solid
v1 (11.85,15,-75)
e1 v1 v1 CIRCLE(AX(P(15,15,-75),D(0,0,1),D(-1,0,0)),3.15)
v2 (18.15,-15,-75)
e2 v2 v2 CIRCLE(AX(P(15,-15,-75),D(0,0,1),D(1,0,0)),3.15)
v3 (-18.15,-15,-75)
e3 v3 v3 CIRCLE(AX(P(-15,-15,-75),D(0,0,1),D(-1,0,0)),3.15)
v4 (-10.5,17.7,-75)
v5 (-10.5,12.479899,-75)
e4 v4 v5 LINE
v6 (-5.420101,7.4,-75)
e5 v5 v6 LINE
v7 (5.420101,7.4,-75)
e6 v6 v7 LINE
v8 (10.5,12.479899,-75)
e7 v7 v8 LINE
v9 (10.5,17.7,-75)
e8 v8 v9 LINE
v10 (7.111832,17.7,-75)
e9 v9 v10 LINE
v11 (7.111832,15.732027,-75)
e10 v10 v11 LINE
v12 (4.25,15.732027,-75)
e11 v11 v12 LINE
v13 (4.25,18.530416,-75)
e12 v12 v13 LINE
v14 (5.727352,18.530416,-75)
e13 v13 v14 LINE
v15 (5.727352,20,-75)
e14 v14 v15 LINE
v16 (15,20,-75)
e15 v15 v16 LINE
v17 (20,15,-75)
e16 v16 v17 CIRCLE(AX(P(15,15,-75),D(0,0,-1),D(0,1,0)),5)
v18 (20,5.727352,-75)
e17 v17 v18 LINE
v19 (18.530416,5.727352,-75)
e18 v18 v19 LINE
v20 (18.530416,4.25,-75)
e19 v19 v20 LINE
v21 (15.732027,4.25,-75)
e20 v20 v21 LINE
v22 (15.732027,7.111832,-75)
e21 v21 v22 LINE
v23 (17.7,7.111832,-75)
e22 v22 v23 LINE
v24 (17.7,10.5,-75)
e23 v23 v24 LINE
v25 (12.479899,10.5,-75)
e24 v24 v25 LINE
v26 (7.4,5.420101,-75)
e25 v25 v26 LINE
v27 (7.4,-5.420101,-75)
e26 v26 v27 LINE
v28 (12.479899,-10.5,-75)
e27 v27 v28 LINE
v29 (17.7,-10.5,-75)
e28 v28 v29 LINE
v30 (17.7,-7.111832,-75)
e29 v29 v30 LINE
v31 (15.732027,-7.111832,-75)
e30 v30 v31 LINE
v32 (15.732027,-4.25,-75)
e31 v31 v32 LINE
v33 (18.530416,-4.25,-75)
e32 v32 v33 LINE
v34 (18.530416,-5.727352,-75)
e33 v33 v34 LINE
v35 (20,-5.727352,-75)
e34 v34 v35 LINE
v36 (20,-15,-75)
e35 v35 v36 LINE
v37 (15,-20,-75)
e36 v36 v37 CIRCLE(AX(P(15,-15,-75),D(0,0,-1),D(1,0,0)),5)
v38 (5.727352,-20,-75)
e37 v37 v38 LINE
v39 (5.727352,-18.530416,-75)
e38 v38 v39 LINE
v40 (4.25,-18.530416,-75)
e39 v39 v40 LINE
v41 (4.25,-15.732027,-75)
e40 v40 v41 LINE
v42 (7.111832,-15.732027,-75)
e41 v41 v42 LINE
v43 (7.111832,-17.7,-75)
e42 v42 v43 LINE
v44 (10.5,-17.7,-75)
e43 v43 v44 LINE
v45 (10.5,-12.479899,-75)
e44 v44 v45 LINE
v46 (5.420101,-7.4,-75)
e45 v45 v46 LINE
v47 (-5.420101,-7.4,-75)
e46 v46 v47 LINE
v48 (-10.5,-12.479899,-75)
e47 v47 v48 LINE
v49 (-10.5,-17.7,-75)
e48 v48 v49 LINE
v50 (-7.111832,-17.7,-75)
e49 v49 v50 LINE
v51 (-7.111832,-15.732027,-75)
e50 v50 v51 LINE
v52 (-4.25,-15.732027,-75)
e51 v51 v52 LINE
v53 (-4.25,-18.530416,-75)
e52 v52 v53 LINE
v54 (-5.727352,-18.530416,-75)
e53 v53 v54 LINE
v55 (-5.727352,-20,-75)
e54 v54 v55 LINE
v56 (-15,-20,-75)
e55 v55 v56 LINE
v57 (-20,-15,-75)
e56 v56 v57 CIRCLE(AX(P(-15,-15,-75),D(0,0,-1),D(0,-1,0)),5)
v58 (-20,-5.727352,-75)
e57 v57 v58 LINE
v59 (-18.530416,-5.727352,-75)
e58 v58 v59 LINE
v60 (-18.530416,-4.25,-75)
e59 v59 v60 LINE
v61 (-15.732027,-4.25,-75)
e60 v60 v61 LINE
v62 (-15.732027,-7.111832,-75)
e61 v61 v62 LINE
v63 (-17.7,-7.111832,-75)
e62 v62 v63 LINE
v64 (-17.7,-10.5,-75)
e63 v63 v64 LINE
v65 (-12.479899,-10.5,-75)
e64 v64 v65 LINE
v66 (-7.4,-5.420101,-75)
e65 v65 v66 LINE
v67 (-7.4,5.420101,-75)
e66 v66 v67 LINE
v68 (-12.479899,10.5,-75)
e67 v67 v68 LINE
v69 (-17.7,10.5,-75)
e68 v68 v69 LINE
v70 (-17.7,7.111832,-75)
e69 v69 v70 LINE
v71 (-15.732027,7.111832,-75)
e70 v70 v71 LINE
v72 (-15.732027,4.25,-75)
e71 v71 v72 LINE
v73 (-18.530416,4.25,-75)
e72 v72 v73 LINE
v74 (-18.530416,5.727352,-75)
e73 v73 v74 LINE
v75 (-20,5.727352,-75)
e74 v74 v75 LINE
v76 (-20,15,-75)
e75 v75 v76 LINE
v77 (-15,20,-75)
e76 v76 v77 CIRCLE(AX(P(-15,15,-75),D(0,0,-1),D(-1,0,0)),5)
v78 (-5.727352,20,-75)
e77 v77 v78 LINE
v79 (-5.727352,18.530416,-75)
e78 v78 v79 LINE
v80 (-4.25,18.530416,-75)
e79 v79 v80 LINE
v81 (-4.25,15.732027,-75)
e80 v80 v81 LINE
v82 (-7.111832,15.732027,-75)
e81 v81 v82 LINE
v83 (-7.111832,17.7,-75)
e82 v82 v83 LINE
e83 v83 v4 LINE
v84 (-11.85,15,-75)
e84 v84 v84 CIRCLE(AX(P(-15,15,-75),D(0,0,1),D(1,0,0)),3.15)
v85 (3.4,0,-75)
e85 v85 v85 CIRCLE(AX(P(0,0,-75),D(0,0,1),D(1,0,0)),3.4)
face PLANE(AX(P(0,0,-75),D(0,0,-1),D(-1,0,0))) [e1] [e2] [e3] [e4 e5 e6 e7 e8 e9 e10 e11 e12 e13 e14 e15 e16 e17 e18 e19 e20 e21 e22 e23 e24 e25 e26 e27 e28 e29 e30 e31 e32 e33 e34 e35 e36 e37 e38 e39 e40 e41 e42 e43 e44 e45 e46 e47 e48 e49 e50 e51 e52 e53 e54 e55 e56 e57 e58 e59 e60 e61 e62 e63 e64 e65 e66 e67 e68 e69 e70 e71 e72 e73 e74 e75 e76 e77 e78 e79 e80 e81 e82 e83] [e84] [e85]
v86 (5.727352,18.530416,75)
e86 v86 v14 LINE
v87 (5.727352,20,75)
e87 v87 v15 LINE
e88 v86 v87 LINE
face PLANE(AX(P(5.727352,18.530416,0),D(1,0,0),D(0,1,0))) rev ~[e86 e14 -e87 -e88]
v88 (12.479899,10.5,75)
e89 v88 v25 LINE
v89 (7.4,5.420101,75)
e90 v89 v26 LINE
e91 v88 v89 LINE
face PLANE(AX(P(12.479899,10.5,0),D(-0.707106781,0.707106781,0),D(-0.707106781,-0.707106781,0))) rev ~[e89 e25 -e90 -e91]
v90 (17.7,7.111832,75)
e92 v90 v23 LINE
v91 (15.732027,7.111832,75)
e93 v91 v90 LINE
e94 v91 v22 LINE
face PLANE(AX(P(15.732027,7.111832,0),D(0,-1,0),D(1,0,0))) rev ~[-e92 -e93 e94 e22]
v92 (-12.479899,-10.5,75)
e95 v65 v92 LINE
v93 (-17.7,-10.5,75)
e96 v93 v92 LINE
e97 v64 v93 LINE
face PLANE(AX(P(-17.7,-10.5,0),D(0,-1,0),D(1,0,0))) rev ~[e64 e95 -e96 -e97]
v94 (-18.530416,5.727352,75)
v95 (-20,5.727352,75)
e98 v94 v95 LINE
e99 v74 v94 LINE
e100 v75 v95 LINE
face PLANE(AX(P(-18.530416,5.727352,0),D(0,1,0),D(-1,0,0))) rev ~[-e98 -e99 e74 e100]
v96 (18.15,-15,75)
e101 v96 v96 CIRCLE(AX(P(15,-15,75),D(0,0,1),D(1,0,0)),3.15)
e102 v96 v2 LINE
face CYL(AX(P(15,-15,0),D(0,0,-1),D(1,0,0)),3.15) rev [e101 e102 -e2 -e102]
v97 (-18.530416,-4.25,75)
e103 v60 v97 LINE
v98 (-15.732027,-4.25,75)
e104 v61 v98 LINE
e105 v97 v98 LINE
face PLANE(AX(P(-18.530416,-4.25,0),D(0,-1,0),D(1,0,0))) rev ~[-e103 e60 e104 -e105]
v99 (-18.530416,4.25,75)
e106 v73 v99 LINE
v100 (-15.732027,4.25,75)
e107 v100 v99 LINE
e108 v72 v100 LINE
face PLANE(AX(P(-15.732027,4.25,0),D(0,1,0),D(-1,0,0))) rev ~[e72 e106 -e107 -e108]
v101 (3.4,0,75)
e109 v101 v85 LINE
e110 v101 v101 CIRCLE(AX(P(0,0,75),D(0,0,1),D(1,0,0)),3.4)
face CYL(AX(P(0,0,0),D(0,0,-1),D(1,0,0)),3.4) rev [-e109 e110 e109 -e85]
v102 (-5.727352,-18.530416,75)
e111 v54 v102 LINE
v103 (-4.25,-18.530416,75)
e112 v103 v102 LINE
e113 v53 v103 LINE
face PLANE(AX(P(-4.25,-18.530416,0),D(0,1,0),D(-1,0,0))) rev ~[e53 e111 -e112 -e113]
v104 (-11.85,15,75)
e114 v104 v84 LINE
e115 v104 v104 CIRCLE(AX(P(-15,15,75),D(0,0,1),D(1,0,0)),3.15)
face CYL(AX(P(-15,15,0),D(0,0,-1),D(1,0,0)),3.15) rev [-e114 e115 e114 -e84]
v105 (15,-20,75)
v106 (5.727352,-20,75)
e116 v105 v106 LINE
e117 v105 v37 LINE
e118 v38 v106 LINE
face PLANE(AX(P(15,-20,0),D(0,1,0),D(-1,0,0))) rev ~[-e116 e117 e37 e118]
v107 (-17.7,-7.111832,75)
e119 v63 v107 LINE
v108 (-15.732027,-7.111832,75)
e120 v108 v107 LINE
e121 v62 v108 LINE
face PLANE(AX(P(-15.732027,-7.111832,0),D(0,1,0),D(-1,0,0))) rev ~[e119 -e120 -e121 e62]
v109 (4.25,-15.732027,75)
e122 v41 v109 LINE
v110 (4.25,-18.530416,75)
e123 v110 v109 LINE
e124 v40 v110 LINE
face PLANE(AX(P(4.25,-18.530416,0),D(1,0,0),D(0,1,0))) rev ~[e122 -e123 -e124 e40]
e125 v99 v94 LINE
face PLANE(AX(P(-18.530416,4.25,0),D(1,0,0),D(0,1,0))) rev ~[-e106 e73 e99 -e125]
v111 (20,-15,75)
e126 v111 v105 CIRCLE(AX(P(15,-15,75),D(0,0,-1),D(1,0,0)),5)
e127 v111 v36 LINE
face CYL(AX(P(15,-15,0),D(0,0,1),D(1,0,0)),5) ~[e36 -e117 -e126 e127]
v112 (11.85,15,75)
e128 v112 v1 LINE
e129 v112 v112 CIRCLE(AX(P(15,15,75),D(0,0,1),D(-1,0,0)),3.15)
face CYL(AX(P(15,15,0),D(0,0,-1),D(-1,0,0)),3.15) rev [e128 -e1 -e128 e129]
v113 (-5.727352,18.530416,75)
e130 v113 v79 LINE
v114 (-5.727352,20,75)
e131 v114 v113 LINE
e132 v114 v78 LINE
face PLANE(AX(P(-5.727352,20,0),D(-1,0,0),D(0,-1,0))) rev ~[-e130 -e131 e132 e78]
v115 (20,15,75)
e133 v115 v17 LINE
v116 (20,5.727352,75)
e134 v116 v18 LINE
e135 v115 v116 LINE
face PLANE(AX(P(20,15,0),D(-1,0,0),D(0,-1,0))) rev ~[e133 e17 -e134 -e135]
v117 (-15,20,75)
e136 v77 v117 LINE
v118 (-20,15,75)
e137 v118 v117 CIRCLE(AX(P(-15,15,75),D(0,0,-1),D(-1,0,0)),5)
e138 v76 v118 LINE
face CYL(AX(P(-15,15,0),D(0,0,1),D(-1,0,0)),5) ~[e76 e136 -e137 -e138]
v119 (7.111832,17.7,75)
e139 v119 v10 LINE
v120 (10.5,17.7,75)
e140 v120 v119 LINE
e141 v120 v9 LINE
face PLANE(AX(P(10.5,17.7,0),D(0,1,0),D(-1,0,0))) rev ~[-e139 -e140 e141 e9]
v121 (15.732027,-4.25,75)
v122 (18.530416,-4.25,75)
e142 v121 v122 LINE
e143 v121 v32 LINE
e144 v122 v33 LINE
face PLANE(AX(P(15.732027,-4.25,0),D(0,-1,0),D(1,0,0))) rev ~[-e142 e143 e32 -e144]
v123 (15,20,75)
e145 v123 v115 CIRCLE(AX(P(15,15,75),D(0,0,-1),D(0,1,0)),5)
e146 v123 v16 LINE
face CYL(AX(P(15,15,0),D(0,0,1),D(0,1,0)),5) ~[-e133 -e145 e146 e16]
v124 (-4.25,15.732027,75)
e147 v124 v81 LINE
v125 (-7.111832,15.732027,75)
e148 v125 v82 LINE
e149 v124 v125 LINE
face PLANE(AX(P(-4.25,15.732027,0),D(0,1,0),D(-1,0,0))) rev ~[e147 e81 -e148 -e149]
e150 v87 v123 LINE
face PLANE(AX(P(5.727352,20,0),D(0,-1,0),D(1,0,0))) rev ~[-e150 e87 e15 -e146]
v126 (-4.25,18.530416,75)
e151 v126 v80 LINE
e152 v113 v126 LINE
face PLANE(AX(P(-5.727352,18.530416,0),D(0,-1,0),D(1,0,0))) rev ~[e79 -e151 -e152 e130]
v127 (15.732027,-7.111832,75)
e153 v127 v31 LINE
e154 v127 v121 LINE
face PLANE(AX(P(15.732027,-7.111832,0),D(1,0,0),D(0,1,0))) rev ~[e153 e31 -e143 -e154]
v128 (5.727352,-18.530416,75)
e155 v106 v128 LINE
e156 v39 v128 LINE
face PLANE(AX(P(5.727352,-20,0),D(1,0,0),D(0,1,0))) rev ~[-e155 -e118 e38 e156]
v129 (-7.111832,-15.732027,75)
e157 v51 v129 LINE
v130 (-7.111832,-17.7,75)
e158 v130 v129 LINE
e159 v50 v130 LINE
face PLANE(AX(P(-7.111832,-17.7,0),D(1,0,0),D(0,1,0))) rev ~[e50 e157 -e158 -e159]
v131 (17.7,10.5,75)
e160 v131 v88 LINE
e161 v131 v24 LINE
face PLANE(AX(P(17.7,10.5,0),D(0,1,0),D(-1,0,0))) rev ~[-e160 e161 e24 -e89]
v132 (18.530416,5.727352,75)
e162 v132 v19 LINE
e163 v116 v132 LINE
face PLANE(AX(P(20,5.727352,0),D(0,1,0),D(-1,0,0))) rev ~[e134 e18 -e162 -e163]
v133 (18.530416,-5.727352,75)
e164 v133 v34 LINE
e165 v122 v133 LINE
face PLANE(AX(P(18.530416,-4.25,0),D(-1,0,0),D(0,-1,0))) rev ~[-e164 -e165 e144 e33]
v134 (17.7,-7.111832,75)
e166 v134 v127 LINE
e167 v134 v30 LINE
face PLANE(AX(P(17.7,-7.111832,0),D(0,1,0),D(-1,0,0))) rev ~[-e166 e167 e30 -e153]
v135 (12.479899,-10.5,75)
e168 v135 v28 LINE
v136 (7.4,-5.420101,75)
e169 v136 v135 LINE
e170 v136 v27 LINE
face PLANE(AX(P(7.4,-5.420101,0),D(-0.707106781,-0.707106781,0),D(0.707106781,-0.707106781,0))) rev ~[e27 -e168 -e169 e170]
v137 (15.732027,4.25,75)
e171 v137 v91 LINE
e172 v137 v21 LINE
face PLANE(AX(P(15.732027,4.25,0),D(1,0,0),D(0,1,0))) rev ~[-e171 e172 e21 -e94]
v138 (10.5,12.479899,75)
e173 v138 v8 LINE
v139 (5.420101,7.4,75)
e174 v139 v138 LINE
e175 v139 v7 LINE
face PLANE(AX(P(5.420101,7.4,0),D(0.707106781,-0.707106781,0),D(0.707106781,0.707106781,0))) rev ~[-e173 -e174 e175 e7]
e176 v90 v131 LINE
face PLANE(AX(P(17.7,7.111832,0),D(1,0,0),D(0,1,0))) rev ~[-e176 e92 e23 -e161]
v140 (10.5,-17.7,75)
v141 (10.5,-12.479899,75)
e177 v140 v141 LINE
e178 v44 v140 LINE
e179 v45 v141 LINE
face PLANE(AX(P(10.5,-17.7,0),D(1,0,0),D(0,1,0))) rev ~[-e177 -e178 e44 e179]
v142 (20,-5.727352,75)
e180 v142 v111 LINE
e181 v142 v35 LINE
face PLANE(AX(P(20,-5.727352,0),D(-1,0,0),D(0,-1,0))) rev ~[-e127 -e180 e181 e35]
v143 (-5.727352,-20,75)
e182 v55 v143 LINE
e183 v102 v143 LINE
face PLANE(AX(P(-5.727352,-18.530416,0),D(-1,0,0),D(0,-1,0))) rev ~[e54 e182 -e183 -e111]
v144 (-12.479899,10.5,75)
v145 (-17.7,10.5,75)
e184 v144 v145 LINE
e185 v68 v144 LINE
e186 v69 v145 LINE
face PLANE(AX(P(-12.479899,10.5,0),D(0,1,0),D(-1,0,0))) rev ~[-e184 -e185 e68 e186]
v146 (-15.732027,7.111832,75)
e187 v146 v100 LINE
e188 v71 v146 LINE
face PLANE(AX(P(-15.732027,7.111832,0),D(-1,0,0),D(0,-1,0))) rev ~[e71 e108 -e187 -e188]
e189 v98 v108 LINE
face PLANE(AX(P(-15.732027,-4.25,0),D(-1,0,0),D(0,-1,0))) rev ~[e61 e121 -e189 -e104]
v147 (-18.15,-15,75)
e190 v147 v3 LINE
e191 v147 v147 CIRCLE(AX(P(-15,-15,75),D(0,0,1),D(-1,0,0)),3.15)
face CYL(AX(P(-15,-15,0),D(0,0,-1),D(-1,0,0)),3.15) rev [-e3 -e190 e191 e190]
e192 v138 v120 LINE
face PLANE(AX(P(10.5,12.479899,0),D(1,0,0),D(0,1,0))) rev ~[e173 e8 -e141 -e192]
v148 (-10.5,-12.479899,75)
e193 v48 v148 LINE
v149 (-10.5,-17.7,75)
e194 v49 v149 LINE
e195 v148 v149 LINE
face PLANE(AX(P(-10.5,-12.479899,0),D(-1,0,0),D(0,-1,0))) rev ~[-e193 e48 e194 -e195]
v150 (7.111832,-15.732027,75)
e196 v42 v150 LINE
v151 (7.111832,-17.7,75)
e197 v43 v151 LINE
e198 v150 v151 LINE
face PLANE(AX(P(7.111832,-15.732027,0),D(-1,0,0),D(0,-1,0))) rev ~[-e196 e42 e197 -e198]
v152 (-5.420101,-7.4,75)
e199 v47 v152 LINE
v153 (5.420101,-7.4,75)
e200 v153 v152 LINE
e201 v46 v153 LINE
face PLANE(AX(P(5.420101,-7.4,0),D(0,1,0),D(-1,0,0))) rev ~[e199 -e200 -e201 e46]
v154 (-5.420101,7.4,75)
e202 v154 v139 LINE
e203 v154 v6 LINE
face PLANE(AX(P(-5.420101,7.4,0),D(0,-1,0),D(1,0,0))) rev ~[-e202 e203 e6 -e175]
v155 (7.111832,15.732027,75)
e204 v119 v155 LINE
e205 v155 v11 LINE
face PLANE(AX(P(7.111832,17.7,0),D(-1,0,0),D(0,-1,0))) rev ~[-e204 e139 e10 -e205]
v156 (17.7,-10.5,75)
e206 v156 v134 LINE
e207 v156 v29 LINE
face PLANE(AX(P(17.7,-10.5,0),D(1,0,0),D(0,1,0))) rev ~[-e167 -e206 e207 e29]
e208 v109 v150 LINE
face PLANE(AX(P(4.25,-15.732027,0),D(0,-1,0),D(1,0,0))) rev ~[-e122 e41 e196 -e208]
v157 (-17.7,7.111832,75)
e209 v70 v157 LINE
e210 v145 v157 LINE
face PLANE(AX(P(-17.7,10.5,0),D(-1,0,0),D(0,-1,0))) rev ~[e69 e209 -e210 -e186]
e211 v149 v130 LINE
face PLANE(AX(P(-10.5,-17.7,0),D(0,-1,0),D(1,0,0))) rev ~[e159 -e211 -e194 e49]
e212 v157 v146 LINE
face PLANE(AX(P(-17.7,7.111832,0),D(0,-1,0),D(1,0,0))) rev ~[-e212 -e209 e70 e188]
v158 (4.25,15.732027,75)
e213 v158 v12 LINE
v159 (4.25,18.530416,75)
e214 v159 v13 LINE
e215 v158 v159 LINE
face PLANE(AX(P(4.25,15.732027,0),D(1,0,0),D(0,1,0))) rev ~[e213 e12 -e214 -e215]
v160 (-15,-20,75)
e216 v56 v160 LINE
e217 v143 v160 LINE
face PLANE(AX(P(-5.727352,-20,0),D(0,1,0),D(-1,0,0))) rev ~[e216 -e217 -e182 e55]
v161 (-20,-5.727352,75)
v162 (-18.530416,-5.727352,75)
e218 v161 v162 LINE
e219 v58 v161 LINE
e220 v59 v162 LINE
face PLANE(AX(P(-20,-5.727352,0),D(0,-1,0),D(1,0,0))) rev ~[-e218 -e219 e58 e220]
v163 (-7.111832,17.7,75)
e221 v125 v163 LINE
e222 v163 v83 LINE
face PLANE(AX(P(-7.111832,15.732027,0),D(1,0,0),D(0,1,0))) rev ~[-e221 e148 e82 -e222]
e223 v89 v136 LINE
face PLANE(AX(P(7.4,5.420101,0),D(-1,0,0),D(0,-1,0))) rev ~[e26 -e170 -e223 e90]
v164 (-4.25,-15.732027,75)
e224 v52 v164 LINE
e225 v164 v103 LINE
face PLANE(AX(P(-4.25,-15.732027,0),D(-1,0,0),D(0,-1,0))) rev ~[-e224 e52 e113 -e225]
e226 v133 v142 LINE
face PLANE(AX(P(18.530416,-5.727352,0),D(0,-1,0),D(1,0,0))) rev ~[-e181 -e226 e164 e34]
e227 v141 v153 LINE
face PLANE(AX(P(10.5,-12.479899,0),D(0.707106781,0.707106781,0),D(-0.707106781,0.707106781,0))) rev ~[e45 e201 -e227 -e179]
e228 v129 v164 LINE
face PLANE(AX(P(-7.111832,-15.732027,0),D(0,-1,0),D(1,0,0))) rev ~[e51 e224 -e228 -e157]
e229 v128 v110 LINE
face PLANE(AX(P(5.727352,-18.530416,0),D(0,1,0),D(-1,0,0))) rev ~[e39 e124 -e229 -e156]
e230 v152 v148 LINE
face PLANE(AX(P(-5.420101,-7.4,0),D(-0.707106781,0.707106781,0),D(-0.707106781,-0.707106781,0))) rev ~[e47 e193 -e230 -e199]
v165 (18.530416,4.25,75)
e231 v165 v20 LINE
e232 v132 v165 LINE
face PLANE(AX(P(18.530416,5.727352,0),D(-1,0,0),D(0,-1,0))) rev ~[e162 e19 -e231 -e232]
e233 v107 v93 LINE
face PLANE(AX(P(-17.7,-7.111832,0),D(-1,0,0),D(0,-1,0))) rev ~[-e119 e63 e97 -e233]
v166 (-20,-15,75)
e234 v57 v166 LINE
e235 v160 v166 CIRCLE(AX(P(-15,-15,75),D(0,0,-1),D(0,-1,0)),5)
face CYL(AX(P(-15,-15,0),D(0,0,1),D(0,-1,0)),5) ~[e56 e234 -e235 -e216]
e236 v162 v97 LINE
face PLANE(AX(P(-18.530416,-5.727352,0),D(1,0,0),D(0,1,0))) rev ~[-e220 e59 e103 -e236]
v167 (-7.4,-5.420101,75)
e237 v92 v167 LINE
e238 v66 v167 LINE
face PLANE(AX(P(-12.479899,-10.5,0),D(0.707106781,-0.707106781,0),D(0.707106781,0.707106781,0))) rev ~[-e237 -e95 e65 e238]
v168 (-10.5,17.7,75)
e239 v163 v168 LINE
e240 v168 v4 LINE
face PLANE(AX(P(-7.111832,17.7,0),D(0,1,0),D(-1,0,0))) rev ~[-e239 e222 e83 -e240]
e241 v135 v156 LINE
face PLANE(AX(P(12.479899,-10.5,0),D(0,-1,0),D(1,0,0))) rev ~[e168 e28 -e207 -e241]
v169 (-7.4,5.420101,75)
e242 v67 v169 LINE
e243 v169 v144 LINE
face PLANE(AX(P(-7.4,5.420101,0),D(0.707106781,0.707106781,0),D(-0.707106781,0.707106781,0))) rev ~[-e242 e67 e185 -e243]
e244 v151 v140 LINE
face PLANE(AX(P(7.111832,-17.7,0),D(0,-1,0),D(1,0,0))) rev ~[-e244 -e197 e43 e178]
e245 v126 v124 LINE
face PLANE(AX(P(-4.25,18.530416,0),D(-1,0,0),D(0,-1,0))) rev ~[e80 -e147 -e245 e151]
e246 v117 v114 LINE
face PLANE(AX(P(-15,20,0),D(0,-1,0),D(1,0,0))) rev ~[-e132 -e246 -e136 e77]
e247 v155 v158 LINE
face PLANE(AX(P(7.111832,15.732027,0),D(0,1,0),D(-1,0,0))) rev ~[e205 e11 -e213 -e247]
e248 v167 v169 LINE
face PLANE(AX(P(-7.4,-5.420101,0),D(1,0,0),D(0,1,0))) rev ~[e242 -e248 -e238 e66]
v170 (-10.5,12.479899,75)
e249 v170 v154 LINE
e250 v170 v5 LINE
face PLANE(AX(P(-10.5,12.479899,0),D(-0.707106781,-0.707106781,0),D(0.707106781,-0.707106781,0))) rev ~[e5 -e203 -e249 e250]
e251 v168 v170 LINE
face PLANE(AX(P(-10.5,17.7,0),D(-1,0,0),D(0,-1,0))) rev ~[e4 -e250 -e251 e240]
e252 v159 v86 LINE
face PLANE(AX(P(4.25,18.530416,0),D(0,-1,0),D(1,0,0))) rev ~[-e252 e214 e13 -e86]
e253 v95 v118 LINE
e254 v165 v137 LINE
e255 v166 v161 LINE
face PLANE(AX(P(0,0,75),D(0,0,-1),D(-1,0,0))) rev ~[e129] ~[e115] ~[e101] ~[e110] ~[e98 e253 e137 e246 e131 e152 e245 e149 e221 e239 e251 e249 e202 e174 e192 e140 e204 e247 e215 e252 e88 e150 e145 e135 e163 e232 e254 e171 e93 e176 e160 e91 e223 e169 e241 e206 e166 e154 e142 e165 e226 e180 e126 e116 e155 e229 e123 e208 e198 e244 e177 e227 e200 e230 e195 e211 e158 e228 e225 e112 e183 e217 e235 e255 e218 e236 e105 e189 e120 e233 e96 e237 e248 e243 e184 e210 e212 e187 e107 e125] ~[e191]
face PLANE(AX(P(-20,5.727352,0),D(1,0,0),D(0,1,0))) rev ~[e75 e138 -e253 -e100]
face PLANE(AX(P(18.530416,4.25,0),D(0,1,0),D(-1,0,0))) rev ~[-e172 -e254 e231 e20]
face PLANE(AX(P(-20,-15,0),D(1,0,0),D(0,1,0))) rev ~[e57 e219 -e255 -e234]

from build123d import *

# Parameters (mm, degrees)
SKETCH_1_R      = 3.4
SKETCH_1_R_2    = 3.15
EXTRUDE_1_DEPTH = 75


with BuildPart() as part:
    # Эскиз1 → Бобышка-Вытянуть1 (new, symmetric)
    with BuildSketch(Plane.XY):
        with BuildLine():
            Line((-15, 20), (-5.727351849, 20))
            Line((-5.727351849, 20), (-5.727351849, 18.530416438))
            Line((-5.727351849, 18.530416438), (-4.25, 18.530416438))
            Line((-4.25, 18.530416438), (-4.25, 15.732027397))
            Line((-4.25, 15.732027397), (-7.111831817, 15.732027397))
            Line((-7.111831817, 15.732027397), (-7.111831817, 17.7))
            Line((-7.111831817, 17.7), (-10.5, 17.7))
            Line((-10.5, 17.7), (-10.5, 12.479898987))
            Line((-10.5, 12.479898987), (-5.420101013, 7.4))
            Line((-5.420101013, 7.4), (5.420101013, 7.4))
            Line((5.420101013, 7.4), (10.5, 12.479898987))
            Line((10.5, 12.479898987), (10.5, 17.7))
            Line((10.5, 17.7), (7.111831817, 17.7))
            Line((7.111831817, 17.7), (7.111831817, 15.732027397))
            Line((7.111831817, 15.732027397), (4.25, 15.732027397))
            Line((4.25, 15.732027397), (4.25, 18.530416438))
            Line((4.25, 18.530416438), (5.727351849, 18.530416438))
            Line((5.727351849, 18.530416438), (5.727351849, 20))
            Line((5.727351849, 20), (15, 20))
            ThreePointArc((15, 20), (18.535533906, 18.535533906), (20, 15))
            Line((20, 15), (20, 5.727351849))
            Line((20, 5.727351849), (18.530416438, 5.727351849))
            Line((18.530416438, 5.727351849), (18.530416438, 4.25))
            Line((18.530416438, 4.25), (15.732027397, 4.25))
            Line((15.732027397, 4.25), (15.732027397, 7.111831817))
            Line((15.732027397, 7.111831817), (17.7, 7.111831817))
            Line((17.7, 7.111831817), (17.7, 10.5))
            Line((17.7, 10.5), (12.479898987, 10.5))
            Line((12.479898987, 10.5), (7.4, 5.420101013))
            Line((7.4, 5.420101013), (7.4, -5.420101013))
            Line((7.4, -5.420101013), (12.479898987, -10.5))
            Line((12.479898987, -10.5), (17.7, -10.5))
            Line((17.7, -10.5), (17.7, -7.111831817))
            Line((17.7, -7.111831817), (15.732027397, -7.111831817))
            Line((15.732027397, -7.111831817), (15.732027397, -4.25))
            Line((15.732027397, -4.25), (18.530416438, -4.25))
            Line((18.530416438, -4.25), (18.530416438, -5.727351849))
            Line((18.530416438, -5.727351849), (20, -5.727351849))
            Line((20, -5.727351849), (20, -15))
            ThreePointArc((20, -15), (18.535533906, -18.535533906), (15, -20))
            Line((15, -20), (5.727351849, -20))
            Line((5.727351849, -20), (5.727351849, -18.530416438))
            Line((5.727351849, -18.530416438), (4.25, -18.530416438))
            Line((4.25, -18.530416438), (4.25, -15.732027397))
            Line((4.25, -15.732027397), (7.111831817, -15.732027397))
            Line((7.111831817, -15.732027397), (7.111831817, -17.7))
            Line((7.111831817, -17.7), (10.5, -17.7))
            Line((10.5, -17.7), (10.5, -12.479898987))
            Line((10.5, -12.479898987), (5.420101013, -7.4))
            Line((5.420101013, -7.4), (-5.420101013, -7.4))
            Line((-5.420101013, -7.4), (-10.5, -12.479898987))
            Line((-10.5, -12.479898987), (-10.5, -17.7))
            Line((-10.5, -17.7), (-7.111831817, -17.7))
            Line((-7.111831817, -17.7), (-7.111831817, -15.732027397))
            Line((-7.111831817, -15.732027397), (-4.25, -15.732027397))
            Line((-4.25, -15.732027397), (-4.25, -18.530416438))
            Line((-4.25, -18.530416438), (-5.727351849, -18.530416438))
            Line((-5.727351849, -18.530416438), (-5.727351849, -20))
            Line((-5.727351849, -20), (-15, -20))
            ThreePointArc((-15, -20), (-18.535533906, -18.535533906), (-20, -15))
            Line((-20, -15), (-20, -5.727351849))
            Line((-20, -5.727351849), (-18.530416438, -5.727351849))
            Line((-18.530416438, -5.727351849), (-18.530416438, -4.25))
            Line((-18.530416438, -4.25), (-15.732027397, -4.25))
            Line((-15.732027397, -4.25), (-15.732027397, -7.111831817))
            Line((-15.732027397, -7.111831817), (-17.7, -7.111831817))
            Line((-17.7, -7.111831817), (-17.7, -10.5))
            Line((-17.7, -10.5), (-12.479898987, -10.5))
            Line((-12.479898987, -10.5), (-7.4, -5.420101013))
            Line((-7.4, -5.420101013), (-7.4, 5.420101013))
            Line((-7.4, 5.420101013), (-12.479898987, 10.5))
            Line((-12.479898987, 10.5), (-17.7, 10.5))
            Line((-17.7, 10.5), (-17.7, 7.111831817))
            Line((-17.7, 7.111831817), (-15.732027397, 7.111831817))
            Line((-15.732027397, 7.111831817), (-15.732027397, 4.25))
            Line((-15.732027397, 4.25), (-18.530416438, 4.25))
            Line((-18.530416438, 4.25), (-18.530416438, 5.727351849))
            Line((-18.530416438, 5.727351849), (-20, 5.727351849))
            Line((-20, 5.727351849), (-20, 15))
            ThreePointArc((-20, 15), (-18.535533906, 18.535533906), (-15, 20))
        make_face()
        Circle(SKETCH_1_R, mode=Mode.SUBTRACT)
        with Locations((-15, 15)):
            Circle(SKETCH_1_R_2, mode=Mode.SUBTRACT)
        with Locations((15, 15)):
            Circle(SKETCH_1_R_2, mode=Mode.SUBTRACT)
        with Locations((15, -15)):
            Circle(SKETCH_1_R_2, mode=Mode.SUBTRACT)
        with Locations((-15, -15)):
            Circle(SKETCH_1_R_2, mode=Mode.SUBTRACT)
    extrude(amount=EXTRUDE_1_DEPTH, both=True)


solid = part.part
